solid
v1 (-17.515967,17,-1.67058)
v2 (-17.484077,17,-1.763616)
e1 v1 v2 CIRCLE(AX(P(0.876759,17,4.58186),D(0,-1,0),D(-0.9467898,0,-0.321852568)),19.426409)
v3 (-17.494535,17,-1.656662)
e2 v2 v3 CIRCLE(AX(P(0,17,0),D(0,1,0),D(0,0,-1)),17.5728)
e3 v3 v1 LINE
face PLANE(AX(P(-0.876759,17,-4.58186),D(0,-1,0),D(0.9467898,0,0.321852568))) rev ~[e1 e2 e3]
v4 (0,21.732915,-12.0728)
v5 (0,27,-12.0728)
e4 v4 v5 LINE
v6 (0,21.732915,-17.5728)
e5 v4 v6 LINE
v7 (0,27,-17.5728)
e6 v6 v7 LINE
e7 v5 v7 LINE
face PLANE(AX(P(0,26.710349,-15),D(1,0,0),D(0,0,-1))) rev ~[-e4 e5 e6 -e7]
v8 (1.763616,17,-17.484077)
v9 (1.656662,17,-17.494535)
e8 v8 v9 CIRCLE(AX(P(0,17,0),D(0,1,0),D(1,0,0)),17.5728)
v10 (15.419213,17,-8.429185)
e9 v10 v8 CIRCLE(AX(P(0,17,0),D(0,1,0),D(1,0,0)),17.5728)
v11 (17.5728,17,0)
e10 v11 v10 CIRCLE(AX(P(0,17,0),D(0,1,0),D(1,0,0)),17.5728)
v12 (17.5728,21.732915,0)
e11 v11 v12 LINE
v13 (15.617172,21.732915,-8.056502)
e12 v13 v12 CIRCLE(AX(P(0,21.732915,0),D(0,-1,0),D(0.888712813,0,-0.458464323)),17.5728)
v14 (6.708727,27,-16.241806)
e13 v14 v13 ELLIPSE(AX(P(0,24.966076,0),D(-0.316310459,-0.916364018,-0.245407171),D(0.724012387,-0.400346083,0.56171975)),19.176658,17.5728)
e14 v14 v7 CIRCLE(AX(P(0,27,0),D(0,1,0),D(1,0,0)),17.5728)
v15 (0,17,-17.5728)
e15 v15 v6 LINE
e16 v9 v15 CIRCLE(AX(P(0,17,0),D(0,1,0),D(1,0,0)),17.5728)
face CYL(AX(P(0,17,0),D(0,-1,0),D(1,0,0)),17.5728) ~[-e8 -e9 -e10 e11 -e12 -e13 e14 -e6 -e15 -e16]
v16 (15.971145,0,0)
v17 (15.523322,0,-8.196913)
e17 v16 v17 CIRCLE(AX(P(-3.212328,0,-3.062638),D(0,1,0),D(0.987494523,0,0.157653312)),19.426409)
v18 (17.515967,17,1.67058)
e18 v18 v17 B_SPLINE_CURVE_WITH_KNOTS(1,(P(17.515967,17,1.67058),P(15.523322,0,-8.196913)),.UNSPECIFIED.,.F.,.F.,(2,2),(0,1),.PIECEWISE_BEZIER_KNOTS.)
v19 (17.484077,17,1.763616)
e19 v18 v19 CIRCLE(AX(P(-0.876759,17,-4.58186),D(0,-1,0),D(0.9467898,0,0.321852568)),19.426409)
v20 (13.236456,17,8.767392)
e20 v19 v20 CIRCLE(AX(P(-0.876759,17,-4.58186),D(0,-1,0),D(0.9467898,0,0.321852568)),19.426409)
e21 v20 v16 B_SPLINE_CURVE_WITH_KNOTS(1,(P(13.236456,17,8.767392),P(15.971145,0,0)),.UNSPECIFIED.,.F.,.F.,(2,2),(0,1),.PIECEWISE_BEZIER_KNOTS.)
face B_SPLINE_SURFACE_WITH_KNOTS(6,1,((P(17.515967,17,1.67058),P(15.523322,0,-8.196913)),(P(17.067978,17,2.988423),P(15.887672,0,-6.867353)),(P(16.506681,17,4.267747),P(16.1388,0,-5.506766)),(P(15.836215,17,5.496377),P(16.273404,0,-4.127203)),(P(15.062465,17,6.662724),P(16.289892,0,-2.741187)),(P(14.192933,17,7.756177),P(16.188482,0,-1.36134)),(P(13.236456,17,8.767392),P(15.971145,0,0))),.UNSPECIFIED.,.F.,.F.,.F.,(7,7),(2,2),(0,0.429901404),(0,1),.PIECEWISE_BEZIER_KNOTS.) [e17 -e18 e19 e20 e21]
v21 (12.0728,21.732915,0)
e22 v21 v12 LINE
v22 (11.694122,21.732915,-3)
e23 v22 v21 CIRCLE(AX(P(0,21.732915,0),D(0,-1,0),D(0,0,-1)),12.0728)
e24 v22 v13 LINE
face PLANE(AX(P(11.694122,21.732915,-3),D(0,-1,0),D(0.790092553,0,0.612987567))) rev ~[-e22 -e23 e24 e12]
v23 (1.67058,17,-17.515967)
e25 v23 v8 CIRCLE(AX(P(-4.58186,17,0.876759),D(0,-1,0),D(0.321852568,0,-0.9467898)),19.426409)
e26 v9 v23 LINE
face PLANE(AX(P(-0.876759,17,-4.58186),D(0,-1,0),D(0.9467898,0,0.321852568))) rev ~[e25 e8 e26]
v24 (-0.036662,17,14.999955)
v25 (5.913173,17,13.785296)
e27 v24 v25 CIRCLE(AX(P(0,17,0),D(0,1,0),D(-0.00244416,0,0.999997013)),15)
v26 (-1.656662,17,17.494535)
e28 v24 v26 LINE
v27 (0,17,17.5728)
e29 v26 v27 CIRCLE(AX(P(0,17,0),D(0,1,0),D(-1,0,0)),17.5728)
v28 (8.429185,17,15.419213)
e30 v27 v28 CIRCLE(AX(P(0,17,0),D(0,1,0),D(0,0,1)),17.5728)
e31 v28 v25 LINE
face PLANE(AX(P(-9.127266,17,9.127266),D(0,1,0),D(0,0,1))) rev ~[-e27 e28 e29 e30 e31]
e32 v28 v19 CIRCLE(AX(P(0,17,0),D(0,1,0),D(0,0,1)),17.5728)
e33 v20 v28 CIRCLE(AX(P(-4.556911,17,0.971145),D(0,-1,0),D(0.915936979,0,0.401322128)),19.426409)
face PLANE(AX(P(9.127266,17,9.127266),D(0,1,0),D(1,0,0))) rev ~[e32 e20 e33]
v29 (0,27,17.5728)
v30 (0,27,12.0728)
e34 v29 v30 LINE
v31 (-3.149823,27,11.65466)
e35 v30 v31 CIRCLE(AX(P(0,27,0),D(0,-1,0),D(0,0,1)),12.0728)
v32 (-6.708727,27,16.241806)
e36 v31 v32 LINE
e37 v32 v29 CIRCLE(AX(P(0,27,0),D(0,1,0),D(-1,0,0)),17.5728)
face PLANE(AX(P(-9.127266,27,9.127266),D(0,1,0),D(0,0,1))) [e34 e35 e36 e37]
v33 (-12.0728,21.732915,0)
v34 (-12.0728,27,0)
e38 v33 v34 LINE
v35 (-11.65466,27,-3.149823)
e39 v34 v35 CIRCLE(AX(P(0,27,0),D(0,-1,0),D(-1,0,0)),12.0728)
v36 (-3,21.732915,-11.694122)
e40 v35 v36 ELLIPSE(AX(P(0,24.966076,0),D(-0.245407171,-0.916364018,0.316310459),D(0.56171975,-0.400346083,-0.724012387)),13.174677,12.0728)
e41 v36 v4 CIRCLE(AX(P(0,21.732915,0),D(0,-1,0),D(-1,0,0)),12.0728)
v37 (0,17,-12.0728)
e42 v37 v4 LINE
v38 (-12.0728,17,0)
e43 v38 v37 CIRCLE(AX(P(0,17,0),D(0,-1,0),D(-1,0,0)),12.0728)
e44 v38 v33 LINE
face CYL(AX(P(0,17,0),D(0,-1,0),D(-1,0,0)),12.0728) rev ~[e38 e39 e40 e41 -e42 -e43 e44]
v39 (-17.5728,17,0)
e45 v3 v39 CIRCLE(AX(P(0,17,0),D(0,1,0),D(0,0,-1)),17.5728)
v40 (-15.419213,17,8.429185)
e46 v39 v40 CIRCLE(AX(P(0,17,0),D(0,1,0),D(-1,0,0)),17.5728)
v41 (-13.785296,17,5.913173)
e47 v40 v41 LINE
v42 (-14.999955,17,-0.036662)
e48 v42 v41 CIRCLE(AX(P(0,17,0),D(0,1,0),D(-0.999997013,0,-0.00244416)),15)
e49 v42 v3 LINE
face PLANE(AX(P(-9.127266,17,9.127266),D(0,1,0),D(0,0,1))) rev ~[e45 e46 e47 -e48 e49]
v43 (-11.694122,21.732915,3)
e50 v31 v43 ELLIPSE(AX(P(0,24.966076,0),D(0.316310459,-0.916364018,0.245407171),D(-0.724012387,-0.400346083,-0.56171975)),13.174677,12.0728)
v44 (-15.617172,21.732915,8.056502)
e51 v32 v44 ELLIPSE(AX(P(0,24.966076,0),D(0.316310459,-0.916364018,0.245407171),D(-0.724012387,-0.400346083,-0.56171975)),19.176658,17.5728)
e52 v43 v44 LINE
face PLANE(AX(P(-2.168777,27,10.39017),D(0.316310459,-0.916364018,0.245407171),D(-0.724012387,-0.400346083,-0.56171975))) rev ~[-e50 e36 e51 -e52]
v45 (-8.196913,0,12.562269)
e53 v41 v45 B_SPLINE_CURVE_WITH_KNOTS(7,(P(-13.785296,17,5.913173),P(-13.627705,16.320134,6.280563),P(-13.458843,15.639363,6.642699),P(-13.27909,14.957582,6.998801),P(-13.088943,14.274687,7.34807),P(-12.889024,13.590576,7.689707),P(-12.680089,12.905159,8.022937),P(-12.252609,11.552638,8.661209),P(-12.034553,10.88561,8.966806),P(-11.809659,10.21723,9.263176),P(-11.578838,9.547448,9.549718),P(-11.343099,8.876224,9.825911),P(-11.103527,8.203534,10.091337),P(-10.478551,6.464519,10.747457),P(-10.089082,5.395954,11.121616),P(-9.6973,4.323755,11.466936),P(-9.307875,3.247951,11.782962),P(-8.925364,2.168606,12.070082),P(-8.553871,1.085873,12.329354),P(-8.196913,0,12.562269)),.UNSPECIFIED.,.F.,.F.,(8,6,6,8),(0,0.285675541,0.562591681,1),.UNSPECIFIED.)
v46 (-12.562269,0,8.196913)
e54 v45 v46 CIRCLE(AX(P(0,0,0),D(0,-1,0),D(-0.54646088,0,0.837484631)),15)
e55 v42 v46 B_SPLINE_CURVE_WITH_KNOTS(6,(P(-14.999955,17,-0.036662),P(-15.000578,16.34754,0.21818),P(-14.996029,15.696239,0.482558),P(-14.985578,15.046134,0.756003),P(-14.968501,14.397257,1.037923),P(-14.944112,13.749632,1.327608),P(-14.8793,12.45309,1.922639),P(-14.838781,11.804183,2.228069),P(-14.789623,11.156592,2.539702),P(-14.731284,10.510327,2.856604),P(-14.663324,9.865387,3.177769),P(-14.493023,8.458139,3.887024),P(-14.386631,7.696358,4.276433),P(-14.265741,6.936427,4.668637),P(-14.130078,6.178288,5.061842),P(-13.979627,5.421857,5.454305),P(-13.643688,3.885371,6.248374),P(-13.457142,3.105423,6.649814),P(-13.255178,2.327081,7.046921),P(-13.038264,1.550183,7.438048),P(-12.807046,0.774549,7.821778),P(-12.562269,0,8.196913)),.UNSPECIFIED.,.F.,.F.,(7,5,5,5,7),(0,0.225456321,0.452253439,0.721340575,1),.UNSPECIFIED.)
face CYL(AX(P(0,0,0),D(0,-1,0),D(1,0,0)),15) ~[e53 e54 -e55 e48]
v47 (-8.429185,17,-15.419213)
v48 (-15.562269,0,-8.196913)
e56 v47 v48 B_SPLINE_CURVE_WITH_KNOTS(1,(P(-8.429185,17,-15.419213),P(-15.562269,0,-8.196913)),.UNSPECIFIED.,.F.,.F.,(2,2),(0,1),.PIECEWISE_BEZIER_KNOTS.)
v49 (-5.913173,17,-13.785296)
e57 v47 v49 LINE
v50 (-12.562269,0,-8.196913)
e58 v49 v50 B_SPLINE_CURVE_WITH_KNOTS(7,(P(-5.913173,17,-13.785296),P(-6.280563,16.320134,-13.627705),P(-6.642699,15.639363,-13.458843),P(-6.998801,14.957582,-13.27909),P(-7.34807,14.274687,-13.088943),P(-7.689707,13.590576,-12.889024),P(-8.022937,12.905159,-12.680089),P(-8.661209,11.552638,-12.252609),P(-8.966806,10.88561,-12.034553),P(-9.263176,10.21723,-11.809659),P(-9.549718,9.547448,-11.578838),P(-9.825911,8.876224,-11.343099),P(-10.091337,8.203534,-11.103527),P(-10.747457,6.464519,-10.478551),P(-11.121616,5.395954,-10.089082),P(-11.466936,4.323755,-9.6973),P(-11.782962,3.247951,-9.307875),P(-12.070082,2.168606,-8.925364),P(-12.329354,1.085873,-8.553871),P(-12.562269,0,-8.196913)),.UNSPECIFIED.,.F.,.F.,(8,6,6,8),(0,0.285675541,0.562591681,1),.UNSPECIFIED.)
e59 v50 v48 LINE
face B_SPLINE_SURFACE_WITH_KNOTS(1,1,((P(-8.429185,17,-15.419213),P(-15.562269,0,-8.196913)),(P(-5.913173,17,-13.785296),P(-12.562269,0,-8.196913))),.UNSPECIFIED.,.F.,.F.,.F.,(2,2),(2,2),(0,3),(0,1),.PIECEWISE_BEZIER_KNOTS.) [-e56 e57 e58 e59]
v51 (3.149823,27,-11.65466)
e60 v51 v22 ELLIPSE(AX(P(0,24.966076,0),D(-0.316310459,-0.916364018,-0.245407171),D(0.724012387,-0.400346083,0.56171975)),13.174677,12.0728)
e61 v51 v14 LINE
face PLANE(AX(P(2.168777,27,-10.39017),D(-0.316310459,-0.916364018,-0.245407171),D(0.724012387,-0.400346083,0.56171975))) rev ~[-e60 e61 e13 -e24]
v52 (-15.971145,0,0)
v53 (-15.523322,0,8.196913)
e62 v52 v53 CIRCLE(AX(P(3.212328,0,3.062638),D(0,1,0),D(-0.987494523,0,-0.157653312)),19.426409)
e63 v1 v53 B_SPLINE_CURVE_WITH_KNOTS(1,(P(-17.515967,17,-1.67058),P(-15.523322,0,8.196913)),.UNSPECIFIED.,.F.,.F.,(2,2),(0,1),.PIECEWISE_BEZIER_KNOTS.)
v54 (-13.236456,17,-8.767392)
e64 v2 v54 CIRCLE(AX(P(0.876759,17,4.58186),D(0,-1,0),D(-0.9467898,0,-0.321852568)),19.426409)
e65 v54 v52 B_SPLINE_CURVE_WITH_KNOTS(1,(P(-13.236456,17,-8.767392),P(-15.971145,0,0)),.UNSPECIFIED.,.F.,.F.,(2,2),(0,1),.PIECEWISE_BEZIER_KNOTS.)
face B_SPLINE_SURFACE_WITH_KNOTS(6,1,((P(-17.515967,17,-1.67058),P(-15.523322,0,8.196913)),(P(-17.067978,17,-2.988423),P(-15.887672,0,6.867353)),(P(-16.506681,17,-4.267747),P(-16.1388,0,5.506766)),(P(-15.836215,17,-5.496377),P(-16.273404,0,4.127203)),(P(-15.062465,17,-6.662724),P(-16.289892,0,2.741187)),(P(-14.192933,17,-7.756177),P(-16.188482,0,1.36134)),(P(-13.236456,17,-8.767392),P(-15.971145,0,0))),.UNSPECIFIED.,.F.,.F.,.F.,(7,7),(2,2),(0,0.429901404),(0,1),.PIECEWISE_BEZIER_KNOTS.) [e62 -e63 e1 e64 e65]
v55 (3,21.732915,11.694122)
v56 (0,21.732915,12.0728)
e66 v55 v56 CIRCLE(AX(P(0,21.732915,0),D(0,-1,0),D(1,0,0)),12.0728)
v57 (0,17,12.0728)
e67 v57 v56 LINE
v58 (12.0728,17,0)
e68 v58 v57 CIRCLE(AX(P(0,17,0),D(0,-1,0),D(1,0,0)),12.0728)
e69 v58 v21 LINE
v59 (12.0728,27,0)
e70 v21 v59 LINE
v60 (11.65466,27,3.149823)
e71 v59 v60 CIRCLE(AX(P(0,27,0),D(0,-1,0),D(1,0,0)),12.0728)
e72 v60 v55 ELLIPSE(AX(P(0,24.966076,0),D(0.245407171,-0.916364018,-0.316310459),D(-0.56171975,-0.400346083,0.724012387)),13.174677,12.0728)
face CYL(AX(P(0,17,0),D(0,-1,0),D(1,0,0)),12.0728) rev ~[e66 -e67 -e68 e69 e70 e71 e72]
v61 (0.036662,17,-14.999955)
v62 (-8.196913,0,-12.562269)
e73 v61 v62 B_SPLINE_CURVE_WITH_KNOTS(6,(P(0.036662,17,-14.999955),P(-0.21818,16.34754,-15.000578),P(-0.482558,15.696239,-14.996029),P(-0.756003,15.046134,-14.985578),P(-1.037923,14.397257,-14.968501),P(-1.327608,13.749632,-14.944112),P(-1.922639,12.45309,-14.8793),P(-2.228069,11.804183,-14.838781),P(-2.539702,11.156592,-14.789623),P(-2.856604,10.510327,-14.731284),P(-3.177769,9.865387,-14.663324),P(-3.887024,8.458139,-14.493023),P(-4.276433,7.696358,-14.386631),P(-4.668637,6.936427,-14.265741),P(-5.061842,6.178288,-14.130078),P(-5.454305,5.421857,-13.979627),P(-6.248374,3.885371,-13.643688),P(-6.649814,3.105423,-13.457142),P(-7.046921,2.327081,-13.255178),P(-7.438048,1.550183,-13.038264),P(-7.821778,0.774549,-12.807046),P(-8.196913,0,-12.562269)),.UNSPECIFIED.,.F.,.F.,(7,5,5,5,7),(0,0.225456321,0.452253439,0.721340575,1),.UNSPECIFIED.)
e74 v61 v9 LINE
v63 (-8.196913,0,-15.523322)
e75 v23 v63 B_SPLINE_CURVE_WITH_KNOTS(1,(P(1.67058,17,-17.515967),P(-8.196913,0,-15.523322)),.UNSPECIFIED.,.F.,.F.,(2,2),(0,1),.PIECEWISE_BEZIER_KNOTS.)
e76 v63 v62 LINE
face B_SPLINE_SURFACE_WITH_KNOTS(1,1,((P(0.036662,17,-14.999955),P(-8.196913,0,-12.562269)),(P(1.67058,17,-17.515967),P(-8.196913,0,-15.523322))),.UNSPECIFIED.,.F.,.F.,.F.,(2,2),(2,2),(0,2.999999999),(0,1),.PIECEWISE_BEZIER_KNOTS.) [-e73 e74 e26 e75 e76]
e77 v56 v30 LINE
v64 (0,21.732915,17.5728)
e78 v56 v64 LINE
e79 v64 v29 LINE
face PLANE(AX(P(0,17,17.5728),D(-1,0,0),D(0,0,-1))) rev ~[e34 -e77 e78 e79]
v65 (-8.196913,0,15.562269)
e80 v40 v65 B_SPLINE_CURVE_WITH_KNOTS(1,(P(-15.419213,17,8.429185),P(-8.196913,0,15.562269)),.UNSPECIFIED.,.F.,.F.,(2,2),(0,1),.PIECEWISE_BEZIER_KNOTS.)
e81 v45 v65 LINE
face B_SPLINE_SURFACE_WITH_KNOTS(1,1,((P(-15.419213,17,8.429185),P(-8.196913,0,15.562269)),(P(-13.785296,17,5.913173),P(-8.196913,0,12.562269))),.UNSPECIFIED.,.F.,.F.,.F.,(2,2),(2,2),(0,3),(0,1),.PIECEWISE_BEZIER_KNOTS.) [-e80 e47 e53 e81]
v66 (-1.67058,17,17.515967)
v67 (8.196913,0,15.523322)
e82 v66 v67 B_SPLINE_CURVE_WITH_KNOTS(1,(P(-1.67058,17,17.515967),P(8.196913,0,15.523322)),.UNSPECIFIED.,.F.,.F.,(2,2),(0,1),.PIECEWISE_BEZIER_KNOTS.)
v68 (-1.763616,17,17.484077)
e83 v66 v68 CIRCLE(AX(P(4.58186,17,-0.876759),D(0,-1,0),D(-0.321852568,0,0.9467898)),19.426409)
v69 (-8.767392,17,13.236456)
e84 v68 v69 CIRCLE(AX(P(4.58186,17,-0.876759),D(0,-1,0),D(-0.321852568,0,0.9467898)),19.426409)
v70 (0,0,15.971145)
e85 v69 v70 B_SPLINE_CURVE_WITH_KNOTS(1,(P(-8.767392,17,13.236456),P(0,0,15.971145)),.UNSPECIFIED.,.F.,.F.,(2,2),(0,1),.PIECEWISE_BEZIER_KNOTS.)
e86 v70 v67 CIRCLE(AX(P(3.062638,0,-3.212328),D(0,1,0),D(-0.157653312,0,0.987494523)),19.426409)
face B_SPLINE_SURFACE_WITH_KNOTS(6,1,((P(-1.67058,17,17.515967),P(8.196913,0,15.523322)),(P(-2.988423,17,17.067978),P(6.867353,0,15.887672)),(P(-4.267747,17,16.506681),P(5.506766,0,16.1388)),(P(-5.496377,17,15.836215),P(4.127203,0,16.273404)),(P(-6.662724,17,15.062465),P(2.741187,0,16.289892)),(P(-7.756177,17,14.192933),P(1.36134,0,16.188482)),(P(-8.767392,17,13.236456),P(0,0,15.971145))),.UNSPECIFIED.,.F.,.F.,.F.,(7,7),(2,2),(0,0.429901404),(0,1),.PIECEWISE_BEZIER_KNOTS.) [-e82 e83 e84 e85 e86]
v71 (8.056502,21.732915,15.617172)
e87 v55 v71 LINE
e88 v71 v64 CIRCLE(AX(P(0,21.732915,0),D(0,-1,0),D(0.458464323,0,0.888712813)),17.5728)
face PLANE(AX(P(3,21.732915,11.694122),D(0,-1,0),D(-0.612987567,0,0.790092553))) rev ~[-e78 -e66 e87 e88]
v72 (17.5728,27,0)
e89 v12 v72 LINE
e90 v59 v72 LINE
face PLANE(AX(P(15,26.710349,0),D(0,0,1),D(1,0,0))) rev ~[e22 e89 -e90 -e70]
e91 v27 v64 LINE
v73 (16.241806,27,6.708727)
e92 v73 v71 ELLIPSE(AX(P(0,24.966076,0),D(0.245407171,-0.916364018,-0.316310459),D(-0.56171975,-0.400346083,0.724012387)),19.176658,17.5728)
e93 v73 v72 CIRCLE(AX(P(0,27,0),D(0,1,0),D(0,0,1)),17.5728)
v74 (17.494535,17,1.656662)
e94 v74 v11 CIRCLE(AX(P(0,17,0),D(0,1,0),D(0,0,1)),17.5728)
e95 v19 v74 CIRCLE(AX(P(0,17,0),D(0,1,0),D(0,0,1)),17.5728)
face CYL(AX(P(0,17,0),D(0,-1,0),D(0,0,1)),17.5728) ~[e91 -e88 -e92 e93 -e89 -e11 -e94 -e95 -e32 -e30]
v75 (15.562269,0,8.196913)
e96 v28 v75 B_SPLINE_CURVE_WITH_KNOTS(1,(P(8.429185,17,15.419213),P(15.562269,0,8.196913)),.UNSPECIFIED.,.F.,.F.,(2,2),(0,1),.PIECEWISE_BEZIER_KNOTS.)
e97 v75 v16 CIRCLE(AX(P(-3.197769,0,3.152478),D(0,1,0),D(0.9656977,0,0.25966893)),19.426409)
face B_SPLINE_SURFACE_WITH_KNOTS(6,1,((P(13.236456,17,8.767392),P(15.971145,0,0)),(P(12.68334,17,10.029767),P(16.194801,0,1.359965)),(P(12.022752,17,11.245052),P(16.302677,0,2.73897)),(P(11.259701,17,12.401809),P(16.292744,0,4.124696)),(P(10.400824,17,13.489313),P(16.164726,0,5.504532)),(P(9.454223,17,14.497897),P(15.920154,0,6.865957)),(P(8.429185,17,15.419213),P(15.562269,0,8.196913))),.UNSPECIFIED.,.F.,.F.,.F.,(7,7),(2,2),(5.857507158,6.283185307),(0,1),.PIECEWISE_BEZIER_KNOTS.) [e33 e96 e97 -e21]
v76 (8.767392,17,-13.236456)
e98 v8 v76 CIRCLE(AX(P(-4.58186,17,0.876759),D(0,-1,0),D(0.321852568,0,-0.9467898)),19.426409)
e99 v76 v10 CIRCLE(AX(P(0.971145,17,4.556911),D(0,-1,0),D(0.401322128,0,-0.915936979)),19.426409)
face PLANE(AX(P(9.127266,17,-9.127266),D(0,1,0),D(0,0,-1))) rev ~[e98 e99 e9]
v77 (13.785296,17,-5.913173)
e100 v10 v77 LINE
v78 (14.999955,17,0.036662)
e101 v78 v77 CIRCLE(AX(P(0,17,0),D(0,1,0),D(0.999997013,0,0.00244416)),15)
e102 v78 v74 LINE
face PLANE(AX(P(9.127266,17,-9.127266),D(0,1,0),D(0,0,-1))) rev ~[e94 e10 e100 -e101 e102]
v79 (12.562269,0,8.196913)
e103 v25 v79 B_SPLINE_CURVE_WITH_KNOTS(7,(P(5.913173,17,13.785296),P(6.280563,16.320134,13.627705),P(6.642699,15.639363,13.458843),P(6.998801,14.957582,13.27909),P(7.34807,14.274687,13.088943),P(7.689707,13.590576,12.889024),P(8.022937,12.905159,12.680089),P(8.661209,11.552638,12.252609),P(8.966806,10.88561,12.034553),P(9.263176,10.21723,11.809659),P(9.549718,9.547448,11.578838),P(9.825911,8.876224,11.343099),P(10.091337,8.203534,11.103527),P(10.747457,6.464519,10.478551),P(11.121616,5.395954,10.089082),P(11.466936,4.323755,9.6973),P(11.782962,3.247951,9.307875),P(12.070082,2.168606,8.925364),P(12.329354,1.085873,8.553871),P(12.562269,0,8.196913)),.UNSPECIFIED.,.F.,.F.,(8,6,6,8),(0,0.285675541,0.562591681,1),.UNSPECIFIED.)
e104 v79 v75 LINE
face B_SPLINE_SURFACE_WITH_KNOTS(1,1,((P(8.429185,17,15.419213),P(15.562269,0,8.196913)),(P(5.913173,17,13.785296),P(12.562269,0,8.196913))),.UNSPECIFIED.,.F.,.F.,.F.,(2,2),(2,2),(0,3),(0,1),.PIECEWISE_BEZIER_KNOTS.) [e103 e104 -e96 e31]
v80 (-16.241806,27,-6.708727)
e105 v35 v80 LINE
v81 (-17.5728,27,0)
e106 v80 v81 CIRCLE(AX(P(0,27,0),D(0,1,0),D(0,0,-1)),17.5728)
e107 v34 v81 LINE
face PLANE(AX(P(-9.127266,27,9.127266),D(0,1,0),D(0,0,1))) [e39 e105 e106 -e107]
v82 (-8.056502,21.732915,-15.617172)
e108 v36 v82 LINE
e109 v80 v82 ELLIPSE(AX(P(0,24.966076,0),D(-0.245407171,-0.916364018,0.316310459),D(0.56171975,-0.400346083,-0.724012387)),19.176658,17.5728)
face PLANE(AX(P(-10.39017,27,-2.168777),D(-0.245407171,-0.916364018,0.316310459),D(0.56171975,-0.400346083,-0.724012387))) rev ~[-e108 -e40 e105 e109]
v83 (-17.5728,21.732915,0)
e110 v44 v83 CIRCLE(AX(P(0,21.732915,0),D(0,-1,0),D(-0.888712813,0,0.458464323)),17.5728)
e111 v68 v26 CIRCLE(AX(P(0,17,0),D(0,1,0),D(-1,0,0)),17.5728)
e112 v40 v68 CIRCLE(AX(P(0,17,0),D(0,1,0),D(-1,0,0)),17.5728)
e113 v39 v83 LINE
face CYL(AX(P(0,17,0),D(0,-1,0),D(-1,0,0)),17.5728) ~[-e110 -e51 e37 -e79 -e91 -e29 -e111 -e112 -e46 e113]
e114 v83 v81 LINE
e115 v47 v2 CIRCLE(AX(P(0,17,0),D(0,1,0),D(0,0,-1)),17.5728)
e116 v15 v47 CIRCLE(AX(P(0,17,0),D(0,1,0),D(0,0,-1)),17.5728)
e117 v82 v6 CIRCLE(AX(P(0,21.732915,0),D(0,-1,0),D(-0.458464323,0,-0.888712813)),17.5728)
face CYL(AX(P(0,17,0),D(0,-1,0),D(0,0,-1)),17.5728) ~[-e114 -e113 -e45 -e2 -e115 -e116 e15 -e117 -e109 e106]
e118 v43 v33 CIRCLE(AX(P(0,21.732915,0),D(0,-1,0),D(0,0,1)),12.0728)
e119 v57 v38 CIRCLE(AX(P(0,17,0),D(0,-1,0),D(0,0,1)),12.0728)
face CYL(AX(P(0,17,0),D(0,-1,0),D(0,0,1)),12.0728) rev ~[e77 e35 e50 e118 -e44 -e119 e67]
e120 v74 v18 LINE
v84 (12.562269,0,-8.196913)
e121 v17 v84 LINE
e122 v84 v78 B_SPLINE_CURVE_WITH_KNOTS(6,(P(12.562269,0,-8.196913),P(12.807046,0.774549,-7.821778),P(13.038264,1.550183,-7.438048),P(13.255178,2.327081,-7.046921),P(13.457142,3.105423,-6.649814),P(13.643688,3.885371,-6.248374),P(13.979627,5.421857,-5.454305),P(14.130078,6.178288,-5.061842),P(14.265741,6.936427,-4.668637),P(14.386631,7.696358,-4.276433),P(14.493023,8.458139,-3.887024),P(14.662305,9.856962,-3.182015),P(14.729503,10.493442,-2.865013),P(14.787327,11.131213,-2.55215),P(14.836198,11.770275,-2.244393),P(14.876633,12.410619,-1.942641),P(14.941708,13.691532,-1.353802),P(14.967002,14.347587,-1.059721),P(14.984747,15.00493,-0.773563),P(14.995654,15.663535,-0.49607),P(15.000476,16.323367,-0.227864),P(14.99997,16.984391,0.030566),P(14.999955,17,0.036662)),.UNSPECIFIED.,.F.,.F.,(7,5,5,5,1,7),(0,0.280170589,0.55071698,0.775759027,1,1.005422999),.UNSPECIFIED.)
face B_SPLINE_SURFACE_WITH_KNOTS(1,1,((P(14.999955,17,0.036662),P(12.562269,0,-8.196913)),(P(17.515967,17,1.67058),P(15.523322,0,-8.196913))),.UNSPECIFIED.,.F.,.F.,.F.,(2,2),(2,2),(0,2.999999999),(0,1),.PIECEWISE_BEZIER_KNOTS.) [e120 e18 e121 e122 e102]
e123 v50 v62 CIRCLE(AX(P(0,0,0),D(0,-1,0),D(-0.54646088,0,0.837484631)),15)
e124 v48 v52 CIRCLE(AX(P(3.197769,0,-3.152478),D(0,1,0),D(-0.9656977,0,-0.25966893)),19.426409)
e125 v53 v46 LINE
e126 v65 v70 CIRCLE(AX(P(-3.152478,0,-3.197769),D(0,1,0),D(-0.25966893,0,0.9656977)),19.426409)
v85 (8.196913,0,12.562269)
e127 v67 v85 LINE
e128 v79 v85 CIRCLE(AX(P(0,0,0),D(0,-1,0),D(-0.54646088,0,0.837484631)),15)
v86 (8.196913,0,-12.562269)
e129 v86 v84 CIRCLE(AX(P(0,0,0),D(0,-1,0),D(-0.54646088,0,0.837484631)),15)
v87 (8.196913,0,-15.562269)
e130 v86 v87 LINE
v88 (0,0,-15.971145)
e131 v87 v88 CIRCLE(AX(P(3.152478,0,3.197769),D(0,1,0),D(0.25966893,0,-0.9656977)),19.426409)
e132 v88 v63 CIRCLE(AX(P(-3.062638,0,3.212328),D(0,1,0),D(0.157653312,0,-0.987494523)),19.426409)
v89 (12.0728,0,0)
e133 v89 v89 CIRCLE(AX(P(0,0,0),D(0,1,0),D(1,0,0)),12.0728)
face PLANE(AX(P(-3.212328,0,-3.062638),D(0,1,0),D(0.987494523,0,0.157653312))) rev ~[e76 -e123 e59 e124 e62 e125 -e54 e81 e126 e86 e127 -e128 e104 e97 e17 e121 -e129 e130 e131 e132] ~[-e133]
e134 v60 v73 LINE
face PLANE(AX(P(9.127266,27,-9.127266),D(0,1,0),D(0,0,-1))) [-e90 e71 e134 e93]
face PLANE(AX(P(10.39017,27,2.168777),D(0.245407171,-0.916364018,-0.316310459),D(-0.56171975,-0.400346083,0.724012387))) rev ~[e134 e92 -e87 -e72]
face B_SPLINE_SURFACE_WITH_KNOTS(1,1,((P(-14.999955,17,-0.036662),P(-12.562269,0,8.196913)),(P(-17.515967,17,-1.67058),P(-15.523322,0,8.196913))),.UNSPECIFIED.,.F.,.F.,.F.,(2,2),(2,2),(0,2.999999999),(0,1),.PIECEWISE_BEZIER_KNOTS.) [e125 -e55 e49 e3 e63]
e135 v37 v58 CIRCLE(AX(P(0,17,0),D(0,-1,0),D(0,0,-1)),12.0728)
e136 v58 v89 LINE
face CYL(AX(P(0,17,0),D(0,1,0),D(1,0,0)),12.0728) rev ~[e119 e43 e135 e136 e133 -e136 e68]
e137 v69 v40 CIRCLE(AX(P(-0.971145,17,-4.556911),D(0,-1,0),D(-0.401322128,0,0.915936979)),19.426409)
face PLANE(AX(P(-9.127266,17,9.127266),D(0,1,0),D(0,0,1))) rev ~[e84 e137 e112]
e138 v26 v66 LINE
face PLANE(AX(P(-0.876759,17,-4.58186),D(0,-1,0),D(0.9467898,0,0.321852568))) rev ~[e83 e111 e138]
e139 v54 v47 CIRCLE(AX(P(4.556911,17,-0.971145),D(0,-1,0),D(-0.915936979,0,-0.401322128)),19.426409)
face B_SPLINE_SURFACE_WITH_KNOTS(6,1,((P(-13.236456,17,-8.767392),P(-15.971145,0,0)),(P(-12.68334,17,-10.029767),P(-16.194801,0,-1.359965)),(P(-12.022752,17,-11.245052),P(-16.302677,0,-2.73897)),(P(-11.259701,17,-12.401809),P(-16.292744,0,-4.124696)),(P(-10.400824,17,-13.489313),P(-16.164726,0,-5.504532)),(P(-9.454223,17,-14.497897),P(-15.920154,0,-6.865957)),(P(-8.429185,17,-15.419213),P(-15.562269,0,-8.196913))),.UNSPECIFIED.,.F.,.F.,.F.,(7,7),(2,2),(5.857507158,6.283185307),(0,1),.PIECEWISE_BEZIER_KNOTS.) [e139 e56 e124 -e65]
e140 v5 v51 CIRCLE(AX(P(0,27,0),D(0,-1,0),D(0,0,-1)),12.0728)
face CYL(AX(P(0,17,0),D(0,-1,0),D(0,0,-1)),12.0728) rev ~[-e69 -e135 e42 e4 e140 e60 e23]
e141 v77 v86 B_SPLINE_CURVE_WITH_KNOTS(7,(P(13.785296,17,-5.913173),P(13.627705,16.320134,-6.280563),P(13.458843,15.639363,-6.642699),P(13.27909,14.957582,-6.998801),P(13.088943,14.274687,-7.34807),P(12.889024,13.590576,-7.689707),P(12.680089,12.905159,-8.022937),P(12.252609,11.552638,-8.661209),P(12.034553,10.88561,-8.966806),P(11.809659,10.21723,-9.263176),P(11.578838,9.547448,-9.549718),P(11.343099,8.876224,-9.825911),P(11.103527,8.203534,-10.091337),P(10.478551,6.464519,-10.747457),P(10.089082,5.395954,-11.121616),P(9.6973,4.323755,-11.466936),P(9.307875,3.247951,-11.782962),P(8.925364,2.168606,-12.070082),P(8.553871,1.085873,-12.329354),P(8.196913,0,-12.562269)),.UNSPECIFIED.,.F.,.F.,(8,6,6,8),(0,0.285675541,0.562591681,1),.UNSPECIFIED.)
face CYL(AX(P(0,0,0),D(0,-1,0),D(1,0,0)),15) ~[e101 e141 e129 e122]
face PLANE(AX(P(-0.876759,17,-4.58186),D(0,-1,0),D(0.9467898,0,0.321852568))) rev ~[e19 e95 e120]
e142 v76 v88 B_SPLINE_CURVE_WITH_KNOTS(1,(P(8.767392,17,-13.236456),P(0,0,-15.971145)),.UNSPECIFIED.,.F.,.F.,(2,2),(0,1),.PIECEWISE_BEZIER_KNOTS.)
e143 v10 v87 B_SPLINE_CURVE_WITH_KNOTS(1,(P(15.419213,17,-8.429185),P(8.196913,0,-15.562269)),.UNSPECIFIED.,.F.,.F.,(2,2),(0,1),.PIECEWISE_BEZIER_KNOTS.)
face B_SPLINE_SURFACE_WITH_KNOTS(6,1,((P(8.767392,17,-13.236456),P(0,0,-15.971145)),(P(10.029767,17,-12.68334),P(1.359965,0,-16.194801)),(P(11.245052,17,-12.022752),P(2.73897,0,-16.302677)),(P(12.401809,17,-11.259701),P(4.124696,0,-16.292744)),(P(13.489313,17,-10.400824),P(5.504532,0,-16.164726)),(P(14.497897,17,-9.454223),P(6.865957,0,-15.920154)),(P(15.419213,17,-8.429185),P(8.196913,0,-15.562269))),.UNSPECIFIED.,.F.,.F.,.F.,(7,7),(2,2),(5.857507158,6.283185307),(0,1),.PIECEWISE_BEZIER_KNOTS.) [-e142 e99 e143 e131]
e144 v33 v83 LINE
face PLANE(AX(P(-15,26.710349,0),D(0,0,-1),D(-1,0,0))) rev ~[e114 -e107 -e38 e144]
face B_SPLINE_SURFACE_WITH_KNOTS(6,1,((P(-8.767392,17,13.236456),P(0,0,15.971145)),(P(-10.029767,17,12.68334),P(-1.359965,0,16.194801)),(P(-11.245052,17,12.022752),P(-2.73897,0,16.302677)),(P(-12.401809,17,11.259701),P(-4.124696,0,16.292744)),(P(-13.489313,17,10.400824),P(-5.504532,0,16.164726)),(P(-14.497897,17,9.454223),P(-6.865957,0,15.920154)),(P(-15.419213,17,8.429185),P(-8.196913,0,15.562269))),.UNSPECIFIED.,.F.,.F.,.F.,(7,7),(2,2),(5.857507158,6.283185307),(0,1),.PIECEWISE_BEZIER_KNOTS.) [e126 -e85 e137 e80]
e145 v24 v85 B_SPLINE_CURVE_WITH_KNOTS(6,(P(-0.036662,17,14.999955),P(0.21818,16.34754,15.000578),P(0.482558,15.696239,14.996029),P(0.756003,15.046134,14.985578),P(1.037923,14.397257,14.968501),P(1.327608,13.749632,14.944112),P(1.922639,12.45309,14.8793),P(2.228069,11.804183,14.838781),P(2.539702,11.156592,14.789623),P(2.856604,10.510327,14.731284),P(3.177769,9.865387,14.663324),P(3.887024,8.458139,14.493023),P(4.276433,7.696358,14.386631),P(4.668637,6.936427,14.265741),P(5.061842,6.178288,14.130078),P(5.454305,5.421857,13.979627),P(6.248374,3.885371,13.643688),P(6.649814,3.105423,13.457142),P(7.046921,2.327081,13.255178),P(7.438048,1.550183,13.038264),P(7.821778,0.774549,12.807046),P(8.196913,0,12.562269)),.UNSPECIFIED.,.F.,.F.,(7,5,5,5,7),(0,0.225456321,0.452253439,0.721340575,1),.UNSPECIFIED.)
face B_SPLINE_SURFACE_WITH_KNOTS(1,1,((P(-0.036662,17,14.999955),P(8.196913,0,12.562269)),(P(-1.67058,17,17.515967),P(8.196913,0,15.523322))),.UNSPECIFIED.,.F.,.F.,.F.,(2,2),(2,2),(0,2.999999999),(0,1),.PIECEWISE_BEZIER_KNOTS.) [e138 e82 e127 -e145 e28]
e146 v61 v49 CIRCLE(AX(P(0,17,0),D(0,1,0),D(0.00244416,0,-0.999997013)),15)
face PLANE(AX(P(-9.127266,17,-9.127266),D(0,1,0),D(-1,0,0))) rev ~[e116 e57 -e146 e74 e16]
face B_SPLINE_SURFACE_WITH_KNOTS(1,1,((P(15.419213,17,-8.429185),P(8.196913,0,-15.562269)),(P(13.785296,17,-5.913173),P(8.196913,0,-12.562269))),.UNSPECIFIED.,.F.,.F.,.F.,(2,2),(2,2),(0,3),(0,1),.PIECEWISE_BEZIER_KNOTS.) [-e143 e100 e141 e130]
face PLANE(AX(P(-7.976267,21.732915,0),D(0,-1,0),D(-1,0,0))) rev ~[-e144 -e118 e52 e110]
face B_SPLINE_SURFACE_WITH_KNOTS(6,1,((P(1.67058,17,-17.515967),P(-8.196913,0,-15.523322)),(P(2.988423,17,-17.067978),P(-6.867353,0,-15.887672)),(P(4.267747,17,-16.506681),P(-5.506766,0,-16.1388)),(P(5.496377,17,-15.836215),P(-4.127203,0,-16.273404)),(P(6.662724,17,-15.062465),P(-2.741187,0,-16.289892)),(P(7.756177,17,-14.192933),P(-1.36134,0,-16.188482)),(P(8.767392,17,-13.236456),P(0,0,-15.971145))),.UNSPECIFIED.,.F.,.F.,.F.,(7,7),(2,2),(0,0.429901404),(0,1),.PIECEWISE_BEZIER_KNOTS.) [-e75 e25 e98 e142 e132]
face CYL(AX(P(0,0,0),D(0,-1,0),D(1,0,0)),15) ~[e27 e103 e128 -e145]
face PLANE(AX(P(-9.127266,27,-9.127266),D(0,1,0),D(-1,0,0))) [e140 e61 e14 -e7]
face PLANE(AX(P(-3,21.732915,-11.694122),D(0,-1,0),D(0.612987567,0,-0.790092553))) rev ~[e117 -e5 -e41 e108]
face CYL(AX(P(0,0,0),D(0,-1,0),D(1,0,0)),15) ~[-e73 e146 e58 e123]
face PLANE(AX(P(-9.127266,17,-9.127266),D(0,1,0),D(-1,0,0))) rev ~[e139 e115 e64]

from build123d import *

# Parameters (mm, degrees)
SKETCH1_R           = 15
BOSS_EXTRUDE1_DEPTH = 17
CIRPATTERN1_COUNT   = 4
BOSS_EXTRUDE3_DEPTH = 10
SKETCH12_W          = 14.047466192
SKETCH12_H          = 9.954867113
CUT_EXTRUDE2_DEPTH  = 3
CUT_EXTRUDE3_DEPTH  = 9
CIRPATTERN11_COUNT  = 4
SKETCH14_R          = 12.072799678
CUT_EXTRUDE4_DEPTH  = 24


with BuildPart() as part:
    # Sketch1 → Boss-Extrude1 (new body)
    with BuildSketch(Plane(origin=(0, 0, 0), x_dir=(1, 0, 0), z_dir=(0, 1, 0))):
        Circle(SKETCH1_R)
    extrude(amount=BOSS_EXTRUDE1_DEPTH)

    # Sketch7 → Loft3 section 0
    with BuildSketch(Plane(origin=(0, 17, 0), x_dir=(1, 0, 0), z_dir=(0, 1, 0))):
        with BuildLine():
            Line((-15.419212864, -8.429185203), (-13.785295759, -5.913173499))
            Line((-13.785295759, -5.913173499), (-0.036662397, -14.999955196))
            Line((-0.036662397, -14.999955196), (-1.670579502, -17.515966899))
            ThreePointArc((-1.670579502, -17.515966899), (-5.449846484, -15.759052669), (-8.767392344, -13.236455593))
            ThreePointArc((-8.767392344, -13.236455593), (-12.350066375, -11.188104454), (-15.419212864, -8.429185203))
        make_face()
    # Sketch2 → Loft3 section 1
    with BuildSketch(Plane.XZ):
        with BuildLine():
            Line((8.1969132, 15.523322087), (8.1969132, 12.562269461))
            Line((8.1969132, 12.562269461), (-8.1969132, 12.562269461))
            Line((-8.1969132, 12.562269461), (-8.1969132, 15.562269461))
            ThreePointArc((-8.1969132, 15.562269461), (-4.120295252, 16.204516854), (0, 15.971144539))
            ThreePointArc((0, 15.971144539), (4.122381552, 16.185154095), (8.1969132, 15.523322087))
        make_face()
    loft3 = loft()

    # CirPattern1: Loft3 ×4 about axis
    cirpattern1_axis = Axis((0, 0, 0), (0, -1, 0))
    for i in range(1, CIRPATTERN1_COUNT):
        add(loft3.rotate(cirpattern1_axis, i * 360 / CIRPATTERN1_COUNT))

    # Sketch8 → Boss-Extrude3 (add)
    with BuildSketch(Plane(origin=(0, 17, 0), x_dir=(1, 0, 0), z_dir=(0, 1, 0))):
        with BuildLine():
            Line((17.572799678, 0), (12.072799678, 0))
            ThreePointArc((12.072799678, 0), (8.536758521, -8.536758521), (0, -12.072799678))
            Line((0, -12.072799678), (0, -17.572799678))
            ThreePointArc((0, -17.572799678), (12.425845817, -12.425845817), (17.572799678, 0))
        make_face()
    boss_extrude3 = extrude(amount=BOSS_EXTRUDE3_DEPTH)

    # Sketch12 → Cut-Extrude2 (cut)
    with BuildSketch(Plane.ZY):
        with Locations((15, 26.710348928)):
            Rectangle(SKETCH12_W, SKETCH12_H)
    cut_extrude2 = extrude(amount=-CUT_EXTRUDE2_DEPTH, mode=Mode.SUBTRACT)

    # Sketch13 → Cut-Extrude3 (cut)
    with BuildSketch(Plane(origin=(7.536399839, 0, 5.847061058), x_dir=(-0.612987567, 0, 0.790092553), z_dir=(-0.790092553, 0, -0.612987567))):
        Polygon((-4.655510065, 27), (7.400476101, 21.732915371), (11.841354417, 21.732915371), (11.841354417, 27), align=None)
    cut_extrude3 = extrude(amount=-CUT_EXTRUDE3_DEPTH, mode=Mode.SUBTRACT)

    # CirPattern11: Boss-Extrude3, Cut-Extrude2, Cut-Extrude3 ×4 about axis
    cirpattern11_axis = Axis((0, 0, 0), (0, 1, 0))
    for i in range(1, CIRPATTERN11_COUNT):
        add(boss_extrude3.rotate(cirpattern11_axis, i * 360 / CIRPATTERN11_COUNT))
        add(cut_extrude2.rotate(cirpattern11_axis, i * 360 / CIRPATTERN11_COUNT), mode=Mode.SUBTRACT)
        add(cut_extrude3.rotate(cirpattern11_axis, i * 360 / CIRPATTERN11_COUNT), mode=Mode.SUBTRACT)

    # Sketch14 → Cut-Extrude4 (cut)
    with BuildSketch(Plane(origin=(0, 17, 0), x_dir=(1, 0, 0), z_dir=(0, 1, 0))):
        Circle(SKETCH14_R)
    extrude(amount=-CUT_EXTRUDE4_DEPTH, mode=Mode.SUBTRACT)


solid = part.part
